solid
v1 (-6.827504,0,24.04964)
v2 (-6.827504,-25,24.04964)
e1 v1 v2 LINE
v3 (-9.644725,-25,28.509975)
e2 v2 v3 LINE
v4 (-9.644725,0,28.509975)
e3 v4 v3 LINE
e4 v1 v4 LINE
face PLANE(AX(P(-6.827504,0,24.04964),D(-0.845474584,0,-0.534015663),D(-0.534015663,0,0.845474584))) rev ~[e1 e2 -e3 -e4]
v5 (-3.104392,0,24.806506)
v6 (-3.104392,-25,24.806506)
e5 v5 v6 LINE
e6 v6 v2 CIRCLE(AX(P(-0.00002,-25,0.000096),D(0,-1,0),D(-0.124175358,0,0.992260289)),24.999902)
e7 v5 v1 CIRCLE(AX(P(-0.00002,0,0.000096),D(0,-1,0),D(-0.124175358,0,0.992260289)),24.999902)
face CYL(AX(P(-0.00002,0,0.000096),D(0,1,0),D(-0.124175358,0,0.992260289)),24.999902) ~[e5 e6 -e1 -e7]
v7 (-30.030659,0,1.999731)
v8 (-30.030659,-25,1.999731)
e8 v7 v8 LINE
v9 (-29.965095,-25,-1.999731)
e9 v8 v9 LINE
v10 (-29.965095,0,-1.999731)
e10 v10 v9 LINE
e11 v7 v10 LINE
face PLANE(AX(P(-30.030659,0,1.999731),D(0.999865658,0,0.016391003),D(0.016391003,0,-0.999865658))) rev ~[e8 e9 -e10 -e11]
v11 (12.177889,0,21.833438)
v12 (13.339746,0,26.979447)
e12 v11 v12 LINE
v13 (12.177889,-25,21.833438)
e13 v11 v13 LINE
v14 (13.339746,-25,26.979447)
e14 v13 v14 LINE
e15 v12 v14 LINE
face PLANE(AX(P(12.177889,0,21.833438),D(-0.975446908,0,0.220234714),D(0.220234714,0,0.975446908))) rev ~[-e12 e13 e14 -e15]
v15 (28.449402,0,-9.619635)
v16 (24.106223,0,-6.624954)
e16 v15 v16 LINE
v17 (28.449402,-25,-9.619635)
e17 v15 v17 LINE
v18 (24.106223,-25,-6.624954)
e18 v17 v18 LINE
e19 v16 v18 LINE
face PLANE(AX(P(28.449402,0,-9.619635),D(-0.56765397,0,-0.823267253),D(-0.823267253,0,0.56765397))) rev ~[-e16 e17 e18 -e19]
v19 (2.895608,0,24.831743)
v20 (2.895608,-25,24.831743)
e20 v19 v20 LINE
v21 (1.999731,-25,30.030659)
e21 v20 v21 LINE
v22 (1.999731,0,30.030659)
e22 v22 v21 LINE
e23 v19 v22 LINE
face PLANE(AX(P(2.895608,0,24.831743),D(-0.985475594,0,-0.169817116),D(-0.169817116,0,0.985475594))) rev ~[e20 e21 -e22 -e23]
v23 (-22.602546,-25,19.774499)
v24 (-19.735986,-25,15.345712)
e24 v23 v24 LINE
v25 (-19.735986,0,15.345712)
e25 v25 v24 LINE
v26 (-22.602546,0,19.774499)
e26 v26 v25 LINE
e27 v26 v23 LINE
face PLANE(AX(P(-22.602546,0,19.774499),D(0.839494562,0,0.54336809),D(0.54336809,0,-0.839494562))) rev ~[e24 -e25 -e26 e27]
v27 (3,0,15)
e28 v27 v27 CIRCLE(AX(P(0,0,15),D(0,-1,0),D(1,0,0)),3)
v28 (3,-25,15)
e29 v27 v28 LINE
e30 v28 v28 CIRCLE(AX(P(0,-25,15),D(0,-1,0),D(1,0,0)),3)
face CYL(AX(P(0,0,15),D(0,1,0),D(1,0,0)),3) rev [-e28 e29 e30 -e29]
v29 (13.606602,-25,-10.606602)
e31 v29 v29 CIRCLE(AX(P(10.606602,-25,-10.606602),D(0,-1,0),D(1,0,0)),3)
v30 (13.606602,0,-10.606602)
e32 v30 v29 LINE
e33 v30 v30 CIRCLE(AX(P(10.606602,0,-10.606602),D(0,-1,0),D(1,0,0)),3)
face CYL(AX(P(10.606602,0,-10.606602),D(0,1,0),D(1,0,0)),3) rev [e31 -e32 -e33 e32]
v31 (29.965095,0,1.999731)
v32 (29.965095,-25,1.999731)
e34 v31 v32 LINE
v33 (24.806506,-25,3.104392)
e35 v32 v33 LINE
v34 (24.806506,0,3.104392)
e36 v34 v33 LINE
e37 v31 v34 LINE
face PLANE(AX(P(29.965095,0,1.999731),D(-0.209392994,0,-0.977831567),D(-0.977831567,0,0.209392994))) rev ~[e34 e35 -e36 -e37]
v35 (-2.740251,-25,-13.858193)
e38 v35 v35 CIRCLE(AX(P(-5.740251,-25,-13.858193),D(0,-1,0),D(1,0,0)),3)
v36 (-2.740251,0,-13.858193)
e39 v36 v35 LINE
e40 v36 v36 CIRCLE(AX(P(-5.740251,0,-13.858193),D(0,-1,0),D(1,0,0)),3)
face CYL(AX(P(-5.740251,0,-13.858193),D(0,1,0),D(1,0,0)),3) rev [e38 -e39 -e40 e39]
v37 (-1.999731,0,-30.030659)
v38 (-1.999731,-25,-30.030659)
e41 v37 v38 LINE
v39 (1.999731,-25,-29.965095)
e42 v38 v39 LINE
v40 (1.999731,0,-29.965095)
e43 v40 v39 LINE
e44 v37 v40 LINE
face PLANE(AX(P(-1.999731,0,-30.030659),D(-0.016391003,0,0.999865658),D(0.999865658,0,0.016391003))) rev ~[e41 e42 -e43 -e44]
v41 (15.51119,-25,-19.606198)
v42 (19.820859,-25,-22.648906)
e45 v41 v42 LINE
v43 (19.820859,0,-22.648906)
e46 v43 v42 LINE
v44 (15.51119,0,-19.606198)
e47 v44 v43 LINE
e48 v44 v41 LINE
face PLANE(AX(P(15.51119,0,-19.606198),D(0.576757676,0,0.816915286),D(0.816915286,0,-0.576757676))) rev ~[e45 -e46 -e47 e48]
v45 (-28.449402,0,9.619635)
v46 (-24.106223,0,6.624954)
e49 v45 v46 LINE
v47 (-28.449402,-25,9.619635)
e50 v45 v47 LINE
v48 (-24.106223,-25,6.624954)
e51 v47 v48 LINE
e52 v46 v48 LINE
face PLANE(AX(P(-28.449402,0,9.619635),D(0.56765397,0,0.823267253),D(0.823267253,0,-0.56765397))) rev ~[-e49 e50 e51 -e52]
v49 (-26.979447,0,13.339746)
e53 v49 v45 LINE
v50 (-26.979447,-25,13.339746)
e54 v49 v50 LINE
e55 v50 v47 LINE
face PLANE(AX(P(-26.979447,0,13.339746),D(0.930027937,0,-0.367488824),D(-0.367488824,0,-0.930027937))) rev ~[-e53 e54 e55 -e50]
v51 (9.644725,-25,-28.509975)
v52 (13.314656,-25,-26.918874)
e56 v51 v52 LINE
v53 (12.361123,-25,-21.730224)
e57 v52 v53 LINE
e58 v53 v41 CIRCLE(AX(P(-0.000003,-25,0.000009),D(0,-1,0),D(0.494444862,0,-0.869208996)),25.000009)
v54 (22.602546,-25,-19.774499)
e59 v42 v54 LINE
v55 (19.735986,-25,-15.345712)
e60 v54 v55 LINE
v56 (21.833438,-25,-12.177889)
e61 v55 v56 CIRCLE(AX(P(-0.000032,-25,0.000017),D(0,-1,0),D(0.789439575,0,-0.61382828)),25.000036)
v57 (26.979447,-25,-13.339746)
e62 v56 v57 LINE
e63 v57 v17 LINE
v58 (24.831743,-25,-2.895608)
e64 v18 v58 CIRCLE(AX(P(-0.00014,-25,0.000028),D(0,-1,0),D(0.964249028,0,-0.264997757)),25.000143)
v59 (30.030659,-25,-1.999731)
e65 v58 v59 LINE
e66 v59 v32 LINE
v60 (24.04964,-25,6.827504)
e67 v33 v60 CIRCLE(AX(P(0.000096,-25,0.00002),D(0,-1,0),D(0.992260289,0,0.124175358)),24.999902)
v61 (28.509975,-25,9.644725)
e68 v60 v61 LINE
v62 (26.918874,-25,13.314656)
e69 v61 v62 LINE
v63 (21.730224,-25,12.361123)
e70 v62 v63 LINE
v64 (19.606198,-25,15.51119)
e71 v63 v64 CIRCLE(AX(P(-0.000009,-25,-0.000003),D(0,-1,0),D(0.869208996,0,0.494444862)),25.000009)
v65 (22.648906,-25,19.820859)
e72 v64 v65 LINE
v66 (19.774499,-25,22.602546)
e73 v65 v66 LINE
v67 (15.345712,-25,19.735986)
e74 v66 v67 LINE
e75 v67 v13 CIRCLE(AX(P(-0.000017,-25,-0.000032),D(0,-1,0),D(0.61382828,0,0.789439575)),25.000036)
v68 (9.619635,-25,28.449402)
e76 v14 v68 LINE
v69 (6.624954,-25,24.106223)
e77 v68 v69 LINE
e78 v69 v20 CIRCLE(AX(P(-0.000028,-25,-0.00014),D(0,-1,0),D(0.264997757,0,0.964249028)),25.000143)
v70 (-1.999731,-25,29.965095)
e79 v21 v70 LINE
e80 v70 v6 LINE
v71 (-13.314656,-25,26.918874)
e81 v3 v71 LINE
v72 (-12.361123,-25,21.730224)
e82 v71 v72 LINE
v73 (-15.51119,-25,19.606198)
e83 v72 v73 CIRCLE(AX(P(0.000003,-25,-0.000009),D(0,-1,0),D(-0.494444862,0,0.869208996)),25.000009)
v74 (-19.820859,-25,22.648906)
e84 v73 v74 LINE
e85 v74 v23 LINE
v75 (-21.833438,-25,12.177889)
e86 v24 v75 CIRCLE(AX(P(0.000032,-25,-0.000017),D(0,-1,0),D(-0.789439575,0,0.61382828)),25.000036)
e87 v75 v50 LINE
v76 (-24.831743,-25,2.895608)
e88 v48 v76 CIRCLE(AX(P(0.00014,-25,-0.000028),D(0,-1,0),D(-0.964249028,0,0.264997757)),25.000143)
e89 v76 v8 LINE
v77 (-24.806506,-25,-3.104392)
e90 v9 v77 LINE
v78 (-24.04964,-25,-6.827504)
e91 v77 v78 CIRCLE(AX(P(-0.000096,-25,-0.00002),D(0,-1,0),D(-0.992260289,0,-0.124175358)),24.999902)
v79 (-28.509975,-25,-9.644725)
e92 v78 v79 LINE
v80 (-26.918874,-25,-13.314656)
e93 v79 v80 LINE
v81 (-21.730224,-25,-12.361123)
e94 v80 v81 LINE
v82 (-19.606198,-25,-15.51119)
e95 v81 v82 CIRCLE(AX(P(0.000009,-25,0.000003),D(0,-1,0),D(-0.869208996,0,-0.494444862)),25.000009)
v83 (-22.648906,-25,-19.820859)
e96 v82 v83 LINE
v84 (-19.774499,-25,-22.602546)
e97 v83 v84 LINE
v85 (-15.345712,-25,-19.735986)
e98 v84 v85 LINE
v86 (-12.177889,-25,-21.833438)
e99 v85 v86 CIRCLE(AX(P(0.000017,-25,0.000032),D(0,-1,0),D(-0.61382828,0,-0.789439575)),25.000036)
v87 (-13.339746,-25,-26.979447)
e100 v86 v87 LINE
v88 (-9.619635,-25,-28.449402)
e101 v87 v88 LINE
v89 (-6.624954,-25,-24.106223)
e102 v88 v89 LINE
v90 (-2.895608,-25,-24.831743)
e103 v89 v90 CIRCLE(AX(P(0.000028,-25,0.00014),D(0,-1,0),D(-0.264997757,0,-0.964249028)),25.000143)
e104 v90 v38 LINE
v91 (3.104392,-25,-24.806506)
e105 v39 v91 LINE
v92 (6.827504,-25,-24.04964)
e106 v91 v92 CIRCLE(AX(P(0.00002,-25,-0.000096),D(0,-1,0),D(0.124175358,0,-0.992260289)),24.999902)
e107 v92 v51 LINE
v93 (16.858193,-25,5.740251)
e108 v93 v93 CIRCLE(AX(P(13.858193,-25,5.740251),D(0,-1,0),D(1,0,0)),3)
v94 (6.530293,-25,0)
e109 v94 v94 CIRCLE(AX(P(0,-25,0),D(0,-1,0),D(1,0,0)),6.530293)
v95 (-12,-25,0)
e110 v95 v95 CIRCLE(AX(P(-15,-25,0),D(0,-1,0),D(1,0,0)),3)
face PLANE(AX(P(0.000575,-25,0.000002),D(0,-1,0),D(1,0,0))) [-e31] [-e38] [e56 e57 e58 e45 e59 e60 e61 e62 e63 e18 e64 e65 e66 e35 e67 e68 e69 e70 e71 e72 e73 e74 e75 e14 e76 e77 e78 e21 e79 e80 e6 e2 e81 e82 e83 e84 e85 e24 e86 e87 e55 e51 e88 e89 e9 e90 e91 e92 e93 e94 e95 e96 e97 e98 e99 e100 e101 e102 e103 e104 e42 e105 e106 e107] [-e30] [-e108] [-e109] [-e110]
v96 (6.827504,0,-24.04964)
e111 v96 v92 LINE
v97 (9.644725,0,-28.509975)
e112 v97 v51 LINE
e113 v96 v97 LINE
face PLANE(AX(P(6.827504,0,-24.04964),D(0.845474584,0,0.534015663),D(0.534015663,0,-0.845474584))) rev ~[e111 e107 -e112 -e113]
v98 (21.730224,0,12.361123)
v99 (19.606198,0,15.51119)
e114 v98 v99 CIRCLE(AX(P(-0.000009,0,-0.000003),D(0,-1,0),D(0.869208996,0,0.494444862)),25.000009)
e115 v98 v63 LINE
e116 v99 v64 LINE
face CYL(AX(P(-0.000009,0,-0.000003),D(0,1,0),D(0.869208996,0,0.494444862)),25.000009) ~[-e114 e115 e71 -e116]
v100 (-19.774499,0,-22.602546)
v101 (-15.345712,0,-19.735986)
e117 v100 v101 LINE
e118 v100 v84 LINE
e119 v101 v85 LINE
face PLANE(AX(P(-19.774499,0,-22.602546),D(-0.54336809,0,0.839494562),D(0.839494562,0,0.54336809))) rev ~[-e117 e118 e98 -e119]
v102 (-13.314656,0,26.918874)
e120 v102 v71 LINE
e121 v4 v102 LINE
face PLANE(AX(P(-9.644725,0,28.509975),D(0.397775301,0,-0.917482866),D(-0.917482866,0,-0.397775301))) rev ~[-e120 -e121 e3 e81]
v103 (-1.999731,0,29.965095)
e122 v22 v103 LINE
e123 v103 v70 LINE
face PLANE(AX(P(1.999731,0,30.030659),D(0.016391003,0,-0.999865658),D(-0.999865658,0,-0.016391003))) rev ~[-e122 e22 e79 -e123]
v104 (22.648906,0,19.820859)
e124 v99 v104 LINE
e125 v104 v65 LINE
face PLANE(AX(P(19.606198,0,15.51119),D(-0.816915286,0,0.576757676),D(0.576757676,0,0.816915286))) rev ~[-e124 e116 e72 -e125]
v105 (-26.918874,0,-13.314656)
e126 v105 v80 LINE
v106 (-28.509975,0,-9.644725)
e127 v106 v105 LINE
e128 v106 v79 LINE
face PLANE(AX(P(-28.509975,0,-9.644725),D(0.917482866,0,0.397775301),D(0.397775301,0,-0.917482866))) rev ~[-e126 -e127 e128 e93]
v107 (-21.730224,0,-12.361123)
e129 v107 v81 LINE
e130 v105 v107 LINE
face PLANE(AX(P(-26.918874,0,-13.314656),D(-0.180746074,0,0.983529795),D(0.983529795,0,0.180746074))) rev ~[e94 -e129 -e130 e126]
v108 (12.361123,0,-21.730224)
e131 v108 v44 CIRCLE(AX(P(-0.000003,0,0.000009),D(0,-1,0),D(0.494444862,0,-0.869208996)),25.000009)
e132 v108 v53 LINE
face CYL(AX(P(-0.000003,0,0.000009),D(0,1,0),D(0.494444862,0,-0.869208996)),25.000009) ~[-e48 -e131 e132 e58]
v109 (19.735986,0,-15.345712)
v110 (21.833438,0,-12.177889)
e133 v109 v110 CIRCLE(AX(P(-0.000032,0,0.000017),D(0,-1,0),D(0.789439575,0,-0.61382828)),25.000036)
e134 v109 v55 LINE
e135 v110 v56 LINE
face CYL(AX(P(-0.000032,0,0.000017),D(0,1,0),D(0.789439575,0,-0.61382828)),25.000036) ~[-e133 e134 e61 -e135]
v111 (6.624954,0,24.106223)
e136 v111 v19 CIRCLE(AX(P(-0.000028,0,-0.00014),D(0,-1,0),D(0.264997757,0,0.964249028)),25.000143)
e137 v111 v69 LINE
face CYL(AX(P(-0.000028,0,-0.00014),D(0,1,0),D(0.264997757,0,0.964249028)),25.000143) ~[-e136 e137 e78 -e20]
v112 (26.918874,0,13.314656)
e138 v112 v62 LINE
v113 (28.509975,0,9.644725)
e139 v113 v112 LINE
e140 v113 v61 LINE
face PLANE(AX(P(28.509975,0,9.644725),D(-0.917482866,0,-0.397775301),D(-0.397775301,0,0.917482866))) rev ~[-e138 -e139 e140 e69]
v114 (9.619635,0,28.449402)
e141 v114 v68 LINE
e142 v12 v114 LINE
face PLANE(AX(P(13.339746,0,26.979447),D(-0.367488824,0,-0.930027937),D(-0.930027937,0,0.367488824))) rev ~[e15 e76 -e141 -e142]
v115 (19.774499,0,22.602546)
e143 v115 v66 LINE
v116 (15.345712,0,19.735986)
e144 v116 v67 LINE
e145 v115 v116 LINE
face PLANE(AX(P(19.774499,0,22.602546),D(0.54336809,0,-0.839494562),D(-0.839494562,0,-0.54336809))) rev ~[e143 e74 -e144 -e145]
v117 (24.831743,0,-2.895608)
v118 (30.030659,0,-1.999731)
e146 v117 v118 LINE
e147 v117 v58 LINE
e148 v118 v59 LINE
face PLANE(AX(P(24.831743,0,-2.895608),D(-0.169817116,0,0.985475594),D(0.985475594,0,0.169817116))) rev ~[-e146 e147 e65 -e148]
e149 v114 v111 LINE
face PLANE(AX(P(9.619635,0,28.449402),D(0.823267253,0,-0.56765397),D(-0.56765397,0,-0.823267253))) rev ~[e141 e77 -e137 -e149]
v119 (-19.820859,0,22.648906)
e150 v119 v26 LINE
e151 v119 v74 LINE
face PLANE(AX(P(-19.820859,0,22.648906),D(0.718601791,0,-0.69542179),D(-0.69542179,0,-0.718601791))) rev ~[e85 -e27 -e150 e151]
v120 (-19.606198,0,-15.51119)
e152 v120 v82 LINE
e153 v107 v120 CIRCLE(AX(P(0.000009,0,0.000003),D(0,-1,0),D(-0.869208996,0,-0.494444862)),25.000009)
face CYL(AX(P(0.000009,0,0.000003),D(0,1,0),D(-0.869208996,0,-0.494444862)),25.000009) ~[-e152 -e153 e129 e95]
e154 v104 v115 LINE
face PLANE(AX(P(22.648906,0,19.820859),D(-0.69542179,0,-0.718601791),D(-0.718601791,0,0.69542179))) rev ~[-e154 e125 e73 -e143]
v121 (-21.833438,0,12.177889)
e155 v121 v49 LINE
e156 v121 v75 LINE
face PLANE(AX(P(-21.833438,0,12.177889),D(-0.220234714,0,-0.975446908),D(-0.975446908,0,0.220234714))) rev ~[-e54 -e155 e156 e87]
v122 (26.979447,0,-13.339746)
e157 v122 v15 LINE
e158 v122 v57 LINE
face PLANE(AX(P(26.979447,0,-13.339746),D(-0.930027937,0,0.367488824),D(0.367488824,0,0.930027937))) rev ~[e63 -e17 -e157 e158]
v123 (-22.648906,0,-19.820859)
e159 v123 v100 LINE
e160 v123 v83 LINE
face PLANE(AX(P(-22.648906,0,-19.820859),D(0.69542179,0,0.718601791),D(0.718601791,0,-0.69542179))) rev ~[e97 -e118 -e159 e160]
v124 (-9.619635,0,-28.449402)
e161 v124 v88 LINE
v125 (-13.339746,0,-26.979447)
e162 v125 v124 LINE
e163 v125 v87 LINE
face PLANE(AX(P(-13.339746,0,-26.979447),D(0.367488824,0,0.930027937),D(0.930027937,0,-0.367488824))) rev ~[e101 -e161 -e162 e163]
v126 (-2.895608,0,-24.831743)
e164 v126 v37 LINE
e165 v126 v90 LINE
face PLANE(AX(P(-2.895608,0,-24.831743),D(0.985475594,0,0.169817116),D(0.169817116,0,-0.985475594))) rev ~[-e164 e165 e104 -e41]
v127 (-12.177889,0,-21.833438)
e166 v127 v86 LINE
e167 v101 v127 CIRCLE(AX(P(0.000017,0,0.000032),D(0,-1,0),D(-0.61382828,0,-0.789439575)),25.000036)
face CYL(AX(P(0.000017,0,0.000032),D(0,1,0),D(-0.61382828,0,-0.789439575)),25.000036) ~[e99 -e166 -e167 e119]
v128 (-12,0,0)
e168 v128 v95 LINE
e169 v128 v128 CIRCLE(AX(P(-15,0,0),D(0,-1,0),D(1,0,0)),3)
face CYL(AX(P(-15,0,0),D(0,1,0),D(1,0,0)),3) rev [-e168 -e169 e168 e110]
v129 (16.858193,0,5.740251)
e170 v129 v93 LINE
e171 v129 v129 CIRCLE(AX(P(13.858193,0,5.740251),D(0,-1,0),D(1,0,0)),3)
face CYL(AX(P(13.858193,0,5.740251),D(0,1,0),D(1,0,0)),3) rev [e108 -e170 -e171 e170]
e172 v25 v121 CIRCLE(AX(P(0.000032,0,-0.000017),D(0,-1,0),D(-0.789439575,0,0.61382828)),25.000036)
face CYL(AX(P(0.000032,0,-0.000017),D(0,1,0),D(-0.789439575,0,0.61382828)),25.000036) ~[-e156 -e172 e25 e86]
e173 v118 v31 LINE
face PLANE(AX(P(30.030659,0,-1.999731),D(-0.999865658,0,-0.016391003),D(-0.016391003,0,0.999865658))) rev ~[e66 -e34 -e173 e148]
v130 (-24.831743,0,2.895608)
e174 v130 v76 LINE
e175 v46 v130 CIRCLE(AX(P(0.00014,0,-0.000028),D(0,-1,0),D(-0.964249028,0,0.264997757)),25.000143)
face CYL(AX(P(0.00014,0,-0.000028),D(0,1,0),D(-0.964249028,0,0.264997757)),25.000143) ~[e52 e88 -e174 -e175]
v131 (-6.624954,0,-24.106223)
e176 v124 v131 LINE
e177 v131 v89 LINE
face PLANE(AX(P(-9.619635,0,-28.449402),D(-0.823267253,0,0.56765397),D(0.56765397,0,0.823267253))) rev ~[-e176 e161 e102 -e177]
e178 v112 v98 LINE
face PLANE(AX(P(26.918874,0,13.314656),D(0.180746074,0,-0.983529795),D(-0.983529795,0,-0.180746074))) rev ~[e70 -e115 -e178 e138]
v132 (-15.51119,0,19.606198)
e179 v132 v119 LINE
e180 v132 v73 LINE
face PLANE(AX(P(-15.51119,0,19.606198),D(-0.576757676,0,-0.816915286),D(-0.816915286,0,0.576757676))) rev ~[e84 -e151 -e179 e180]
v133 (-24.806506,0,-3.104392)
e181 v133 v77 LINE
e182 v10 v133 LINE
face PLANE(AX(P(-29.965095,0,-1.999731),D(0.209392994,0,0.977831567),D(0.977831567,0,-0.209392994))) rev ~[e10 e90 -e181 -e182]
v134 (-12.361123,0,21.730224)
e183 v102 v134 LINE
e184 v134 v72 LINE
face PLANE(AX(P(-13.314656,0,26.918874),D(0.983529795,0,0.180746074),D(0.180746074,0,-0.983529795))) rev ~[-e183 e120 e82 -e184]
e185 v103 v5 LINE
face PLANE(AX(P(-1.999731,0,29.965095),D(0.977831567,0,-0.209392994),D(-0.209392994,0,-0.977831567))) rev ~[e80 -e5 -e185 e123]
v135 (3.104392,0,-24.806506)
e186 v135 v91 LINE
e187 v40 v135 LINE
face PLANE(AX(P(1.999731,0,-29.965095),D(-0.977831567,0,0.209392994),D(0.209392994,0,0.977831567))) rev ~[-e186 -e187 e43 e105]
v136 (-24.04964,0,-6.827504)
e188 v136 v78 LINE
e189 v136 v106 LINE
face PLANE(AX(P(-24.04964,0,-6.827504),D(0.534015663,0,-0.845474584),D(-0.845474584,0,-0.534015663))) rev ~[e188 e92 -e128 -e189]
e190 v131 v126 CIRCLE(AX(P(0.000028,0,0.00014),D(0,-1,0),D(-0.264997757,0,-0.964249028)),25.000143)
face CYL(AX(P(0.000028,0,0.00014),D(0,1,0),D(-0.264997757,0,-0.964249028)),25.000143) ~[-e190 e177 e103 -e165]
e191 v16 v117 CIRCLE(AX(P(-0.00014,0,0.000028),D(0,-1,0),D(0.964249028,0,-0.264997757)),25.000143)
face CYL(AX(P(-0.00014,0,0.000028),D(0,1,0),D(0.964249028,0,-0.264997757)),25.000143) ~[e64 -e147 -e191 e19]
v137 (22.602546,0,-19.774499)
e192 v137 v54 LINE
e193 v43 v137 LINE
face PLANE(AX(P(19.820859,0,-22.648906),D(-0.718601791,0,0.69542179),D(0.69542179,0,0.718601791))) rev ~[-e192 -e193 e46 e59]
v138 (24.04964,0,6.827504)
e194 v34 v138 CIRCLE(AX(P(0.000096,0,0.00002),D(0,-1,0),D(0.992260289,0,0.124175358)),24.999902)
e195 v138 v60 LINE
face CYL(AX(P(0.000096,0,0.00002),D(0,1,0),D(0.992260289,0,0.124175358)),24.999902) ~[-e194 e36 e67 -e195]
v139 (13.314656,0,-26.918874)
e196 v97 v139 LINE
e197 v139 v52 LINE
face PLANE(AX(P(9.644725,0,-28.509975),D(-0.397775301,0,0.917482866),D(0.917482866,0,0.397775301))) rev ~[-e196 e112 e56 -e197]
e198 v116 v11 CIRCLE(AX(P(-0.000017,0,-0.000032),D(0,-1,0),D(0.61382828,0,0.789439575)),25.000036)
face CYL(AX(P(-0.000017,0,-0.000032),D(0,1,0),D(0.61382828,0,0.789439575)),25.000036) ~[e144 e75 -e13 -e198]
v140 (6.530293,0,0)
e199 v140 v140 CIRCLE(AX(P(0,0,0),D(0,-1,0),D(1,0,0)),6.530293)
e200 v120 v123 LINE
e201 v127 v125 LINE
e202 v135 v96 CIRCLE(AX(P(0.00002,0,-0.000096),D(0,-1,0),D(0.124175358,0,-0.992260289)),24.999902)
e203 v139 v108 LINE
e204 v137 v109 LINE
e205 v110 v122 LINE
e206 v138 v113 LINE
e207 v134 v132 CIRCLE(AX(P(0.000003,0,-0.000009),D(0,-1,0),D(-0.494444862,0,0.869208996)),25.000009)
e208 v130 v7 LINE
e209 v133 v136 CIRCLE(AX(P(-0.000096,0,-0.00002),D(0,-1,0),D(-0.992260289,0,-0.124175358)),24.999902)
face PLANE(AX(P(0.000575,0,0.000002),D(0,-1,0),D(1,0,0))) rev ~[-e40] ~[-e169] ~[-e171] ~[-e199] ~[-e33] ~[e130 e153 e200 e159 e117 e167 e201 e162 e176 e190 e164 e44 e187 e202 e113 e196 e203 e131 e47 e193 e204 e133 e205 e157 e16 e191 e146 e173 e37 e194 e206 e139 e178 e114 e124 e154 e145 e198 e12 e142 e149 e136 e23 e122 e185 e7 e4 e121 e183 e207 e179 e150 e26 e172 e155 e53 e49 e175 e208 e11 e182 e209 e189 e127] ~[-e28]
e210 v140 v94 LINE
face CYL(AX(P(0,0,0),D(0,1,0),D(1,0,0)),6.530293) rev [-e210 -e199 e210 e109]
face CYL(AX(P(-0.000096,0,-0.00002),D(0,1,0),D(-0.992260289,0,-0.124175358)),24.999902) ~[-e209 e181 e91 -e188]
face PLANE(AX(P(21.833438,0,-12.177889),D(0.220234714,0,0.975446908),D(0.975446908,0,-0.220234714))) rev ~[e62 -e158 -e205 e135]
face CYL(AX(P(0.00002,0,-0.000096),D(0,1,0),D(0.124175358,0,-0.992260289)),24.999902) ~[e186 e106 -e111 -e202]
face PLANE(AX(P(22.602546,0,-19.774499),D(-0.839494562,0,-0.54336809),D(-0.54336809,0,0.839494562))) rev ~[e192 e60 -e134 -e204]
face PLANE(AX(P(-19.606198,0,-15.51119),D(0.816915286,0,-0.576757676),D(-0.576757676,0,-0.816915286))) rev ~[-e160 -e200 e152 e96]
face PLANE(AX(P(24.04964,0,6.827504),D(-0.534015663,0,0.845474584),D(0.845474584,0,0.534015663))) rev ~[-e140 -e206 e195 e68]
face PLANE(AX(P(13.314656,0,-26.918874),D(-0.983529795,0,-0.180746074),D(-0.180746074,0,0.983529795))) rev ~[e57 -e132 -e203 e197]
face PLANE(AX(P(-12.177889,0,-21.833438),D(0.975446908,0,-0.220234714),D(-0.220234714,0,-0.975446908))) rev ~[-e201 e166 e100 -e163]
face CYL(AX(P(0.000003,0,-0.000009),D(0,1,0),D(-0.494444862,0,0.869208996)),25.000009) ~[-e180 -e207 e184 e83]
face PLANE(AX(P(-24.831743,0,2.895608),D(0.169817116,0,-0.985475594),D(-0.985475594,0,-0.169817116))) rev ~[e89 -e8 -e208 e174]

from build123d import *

# Parameters (mm, degrees)
F0_R     = 3
F0_R_2   = 6.530293
F1_DEPTH = 25


with BuildPart() as f1:
    # F0 (on Front) → F1 (new body)
    with BuildSketch(Plane.XZ):
        with BuildLine():
            ThreePointArc((24.831743, -2.895608), (24.9579, -1.450246), (25, 0))
            ThreePointArc((25, 0), (24.95158, 1.555208), (24.806506, 3.104392))
            ThreePointArc((24.806506, 3.104392), (24.498901, 4.980347), (24.04964, 6.827504))
            ThreePointArc((24.04964, 6.827504), (23.056544, 9.664149), (21.730224, 12.361123))
            ThreePointArc((21.730224, 12.361123), (20.728137, 13.976564), (19.606198, 15.51119))
            ThreePointArc((19.606198, 15.51119), (17.603159, 17.751867), (15.345712, 19.735986))
            ThreePointArc((15.345712, 19.735986), (13.801702, 20.844976), (12.177889, 21.833438))
            ThreePointArc((12.177889, 21.833438), (9.469853, 23.137024), (6.624954, 24.106223))
            ThreePointArc((6.624954, 24.106223), (4.774083, 24.539929), (2.895608, 24.831743))
            ThreePointArc((2.895608, 24.831743), (-0.105152, 24.999779), (-3.104392, 24.806506))
            ThreePointArc((-3.104392, 24.806506), (-4.980347, 24.498901), (-6.827504, 24.04964))
            ThreePointArc((-6.827504, 24.04964), (-9.664149, 23.056544), (-12.361123, 21.730224))
            ThreePointArc((-12.361123, 21.730224), (-13.976564, 20.728137), (-15.51119, 19.606198))
            ThreePointArc((-15.51119, 19.606198), (-17.751867, 17.603159), (-19.735986, 15.345712))
            ThreePointArc((-19.735986, 15.345712), (-20.844976, 13.801702), (-21.833438, 12.177889))
            ThreePointArc((-21.833438, 12.177889), (-23.137024, 9.469853), (-24.106223, 6.624954))
            ThreePointArc((-24.106223, 6.624954), (-24.539929, 4.774083), (-24.831743, 2.895608))
            ThreePointArc((-24.831743, 2.895608), (-24.999779, -0.105152), (-24.806506, -3.104392))
            ThreePointArc((-24.806506, -3.104392), (-24.498901, -4.980347), (-24.04964, -6.827504))
            ThreePointArc((-24.04964, -6.827504), (-23.056544, -9.664149), (-21.730224, -12.361123))
            ThreePointArc((-21.730224, -12.361123), (-20.728137, -13.976564), (-19.606198, -15.51119))
            ThreePointArc((-19.606198, -15.51119), (-17.603159, -17.751867), (-15.345712, -19.735986))
            ThreePointArc((-15.345712, -19.735986), (-13.801702, -20.844976), (-12.177889, -21.833438))
            ThreePointArc((-12.177889, -21.833438), (-9.469853, -23.137024), (-6.624954, -24.106223))
            ThreePointArc((-6.624954, -24.106223), (-4.774083, -24.539929), (-2.895608, -24.831743))
            ThreePointArc((-2.895608, -24.831743), (0.105152, -24.999779), (3.104392, -24.806506))
            ThreePointArc((3.104392, -24.806506), (4.980347, -24.498901), (6.827504, -24.04964))
            ThreePointArc((6.827504, -24.04964), (9.664149, -23.056544), (12.361123, -21.730224))
            ThreePointArc((12.361123, -21.730224), (13.976564, -20.728137), (15.51119, -19.606198))
            ThreePointArc((15.51119, -19.606198), (17.751867, -17.603159), (19.735986, -15.345712))
            ThreePointArc((19.735986, -15.345712), (20.844976, -13.801702), (21.833438, -12.177889))
            ThreePointArc((21.833438, -12.177889), (23.137024, -9.469853), (24.106223, -6.624954))
            ThreePointArc((24.106223, -6.624954), (24.539929, -4.774083), (24.831743, -2.895608))
        make_face()
        with Locations((-5.740251, -13.858193)):
            Circle(F0_R, mode=Mode.SUBTRACT)
        with Locations((10.606602, -10.606602)):
            Circle(F0_R, mode=Mode.SUBTRACT)
        with Locations((-15, 0)):
            Circle(F0_R, mode=Mode.SUBTRACT)
        Circle(F0_R_2, mode=Mode.SUBTRACT)
        with Locations((13.858193, 5.740251)):
            Circle(F0_R, mode=Mode.SUBTRACT)
        with Locations((0, 15)):
            Circle(F0_R, mode=Mode.SUBTRACT)
        with BuildLine():
            ThreePointArc((24.806506, 3.104392), (24.95158, 1.555208), (25, 0))
            ThreePointArc((25, 0), (24.9579, -1.450246), (24.831743, -2.895608))
            Line((24.831743, -2.895608), (30.030659, -1.999731))
            Line((30.030659, -1.999731), (29.965095, 1.999731))
            Line((29.965095, 1.999731), (24.806506, 3.104392))
        make_face()
        with BuildLine():
            ThreePointArc((21.730224, 12.361123), (23.056544, 9.664149), (24.04964, 6.827504))
            Line((24.04964, 6.827504), (28.509975, 9.644725))
            Line((28.509975, 9.644725), (26.918874, 13.314656))
            Line((26.918874, 13.314656), (21.730224, 12.361123))
        make_face()
        with BuildLine():
            Line((28.449402, -9.619635), (24.106223, -6.624954))
            ThreePointArc((24.106223, -6.624954), (23.137024, -9.469853), (21.833438, -12.177889))
            Line((21.833438, -12.177889), (26.979447, -13.339746))
            Line((26.979447, -13.339746), (28.449402, -9.619635))
        make_face()
        with BuildLine():
            ThreePointArc((15.345712, 19.735986), (17.603159, 17.751867), (19.606198, 15.51119))
            Line((19.606198, 15.51119), (22.648906, 19.820859))
            Line((22.648906, 19.820859), (19.774499, 22.602546))
            Line((19.774499, 22.602546), (15.345712, 19.735986))
        make_face()
        with BuildLine():
            Line((22.602546, -19.774499), (19.735986, -15.345712))
            ThreePointArc((19.735986, -15.345712), (17.751867, -17.603159), (15.51119, -19.606198))
            Line((15.51119, -19.606198), (19.820859, -22.648906))
            Line((19.820859, -22.648906), (22.602546, -19.774499))
        make_face()
        with BuildLine():
            ThreePointArc((6.624954, 24.106223), (9.469853, 23.137024), (12.177889, 21.833438))
            Line((12.177889, 21.833438), (13.339746, 26.979447))
            Line((13.339746, 26.979447), (9.619635, 28.449402))
            Line((9.619635, 28.449402), (6.624954, 24.106223))
        make_face()
        with BuildLine():
            Line((13.314656, -26.918874), (12.361123, -21.730224))
            ThreePointArc((12.361123, -21.730224), (9.664149, -23.056544), (6.827504, -24.04964))
            Line((6.827504, -24.04964), (9.644725, -28.509975))
            Line((9.644725, -28.509975), (13.314656, -26.918874))
        make_face()
        with BuildLine():
            ThreePointArc((-3.104392, 24.806506), (-0.105152, 24.999779), (2.895608, 24.831743))
            Line((2.895608, 24.831743), (1.999731, 30.030659))
            Line((1.999731, 30.030659), (-1.999731, 29.965095))
            Line((-1.999731, 29.965095), (-3.104392, 24.806506))
        make_face()
        with BuildLine():
            Line((1.999731, -29.965095), (3.104392, -24.806506))
            ThreePointArc((3.104392, -24.806506), (0.105152, -24.999779), (-2.895608, -24.831743))
            Line((-2.895608, -24.831743), (-1.999731, -30.030659))
            Line((-1.999731, -30.030659), (1.999731, -29.965095))
        make_face()
        with BuildLine():
            ThreePointArc((-12.361123, 21.730224), (-9.664149, 23.056544), (-6.827504, 24.04964))
            Line((-6.827504, 24.04964), (-9.644725, 28.509975))
            Line((-9.644725, 28.509975), (-13.314656, 26.918874))
            Line((-13.314656, 26.918874), (-12.361123, 21.730224))
        make_face()
        with BuildLine():
            Line((-9.619635, -28.449402), (-6.624954, -24.106223))
            ThreePointArc((-6.624954, -24.106223), (-9.469853, -23.137024), (-12.177889, -21.833438))
            Line((-12.177889, -21.833438), (-13.339746, -26.979447))
            Line((-13.339746, -26.979447), (-9.619635, -28.449402))
        make_face()
        with BuildLine():
            ThreePointArc((-19.735986, 15.345712), (-17.751867, 17.603159), (-15.51119, 19.606198))
            Line((-15.51119, 19.606198), (-19.820859, 22.648906))
            Line((-19.820859, 22.648906), (-22.602546, 19.774499))
            Line((-22.602546, 19.774499), (-19.735986, 15.345712))
        make_face()
        with BuildLine():
            Line((-19.774499, -22.602546), (-15.345712, -19.735986))
            ThreePointArc((-15.345712, -19.735986), (-17.603159, -17.751867), (-19.606198, -15.51119))
            Line((-19.606198, -15.51119), (-22.648906, -19.820859))
            Line((-22.648906, -19.820859), (-19.774499, -22.602546))
        make_face()
        with BuildLine():
            ThreePointArc((-24.106223, 6.624954), (-23.137024, 9.469853), (-21.833438, 12.177889))
            Line((-21.833438, 12.177889), (-26.979447, 13.339746))
            Line((-26.979447, 13.339746), (-28.449402, 9.619635))
            Line((-28.449402, 9.619635), (-24.106223, 6.624954))
        make_face()
        with BuildLine():
            Line((-26.918874, -13.314656), (-21.730224, -12.361123))
            ThreePointArc((-21.730224, -12.361123), (-23.056544, -9.664149), (-24.04964, -6.827504))
            Line((-24.04964, -6.827504), (-28.509975, -9.644725))
            Line((-28.509975, -9.644725), (-26.918874, -13.314656))
        make_face()
        with BuildLine():
            ThreePointArc((-24.806506, -3.104392), (-24.999779, -0.105152), (-24.831743, 2.895608))
            Line((-24.831743, 2.895608), (-30.030659, 1.999731))
            Line((-30.030659, 1.999731), (-29.965095, -1.999731))
            Line((-29.965095, -1.999731), (-24.806506, -3.104392))
        make_face()
    extrude(amount=F1_DEPTH)


solid = f1.part
